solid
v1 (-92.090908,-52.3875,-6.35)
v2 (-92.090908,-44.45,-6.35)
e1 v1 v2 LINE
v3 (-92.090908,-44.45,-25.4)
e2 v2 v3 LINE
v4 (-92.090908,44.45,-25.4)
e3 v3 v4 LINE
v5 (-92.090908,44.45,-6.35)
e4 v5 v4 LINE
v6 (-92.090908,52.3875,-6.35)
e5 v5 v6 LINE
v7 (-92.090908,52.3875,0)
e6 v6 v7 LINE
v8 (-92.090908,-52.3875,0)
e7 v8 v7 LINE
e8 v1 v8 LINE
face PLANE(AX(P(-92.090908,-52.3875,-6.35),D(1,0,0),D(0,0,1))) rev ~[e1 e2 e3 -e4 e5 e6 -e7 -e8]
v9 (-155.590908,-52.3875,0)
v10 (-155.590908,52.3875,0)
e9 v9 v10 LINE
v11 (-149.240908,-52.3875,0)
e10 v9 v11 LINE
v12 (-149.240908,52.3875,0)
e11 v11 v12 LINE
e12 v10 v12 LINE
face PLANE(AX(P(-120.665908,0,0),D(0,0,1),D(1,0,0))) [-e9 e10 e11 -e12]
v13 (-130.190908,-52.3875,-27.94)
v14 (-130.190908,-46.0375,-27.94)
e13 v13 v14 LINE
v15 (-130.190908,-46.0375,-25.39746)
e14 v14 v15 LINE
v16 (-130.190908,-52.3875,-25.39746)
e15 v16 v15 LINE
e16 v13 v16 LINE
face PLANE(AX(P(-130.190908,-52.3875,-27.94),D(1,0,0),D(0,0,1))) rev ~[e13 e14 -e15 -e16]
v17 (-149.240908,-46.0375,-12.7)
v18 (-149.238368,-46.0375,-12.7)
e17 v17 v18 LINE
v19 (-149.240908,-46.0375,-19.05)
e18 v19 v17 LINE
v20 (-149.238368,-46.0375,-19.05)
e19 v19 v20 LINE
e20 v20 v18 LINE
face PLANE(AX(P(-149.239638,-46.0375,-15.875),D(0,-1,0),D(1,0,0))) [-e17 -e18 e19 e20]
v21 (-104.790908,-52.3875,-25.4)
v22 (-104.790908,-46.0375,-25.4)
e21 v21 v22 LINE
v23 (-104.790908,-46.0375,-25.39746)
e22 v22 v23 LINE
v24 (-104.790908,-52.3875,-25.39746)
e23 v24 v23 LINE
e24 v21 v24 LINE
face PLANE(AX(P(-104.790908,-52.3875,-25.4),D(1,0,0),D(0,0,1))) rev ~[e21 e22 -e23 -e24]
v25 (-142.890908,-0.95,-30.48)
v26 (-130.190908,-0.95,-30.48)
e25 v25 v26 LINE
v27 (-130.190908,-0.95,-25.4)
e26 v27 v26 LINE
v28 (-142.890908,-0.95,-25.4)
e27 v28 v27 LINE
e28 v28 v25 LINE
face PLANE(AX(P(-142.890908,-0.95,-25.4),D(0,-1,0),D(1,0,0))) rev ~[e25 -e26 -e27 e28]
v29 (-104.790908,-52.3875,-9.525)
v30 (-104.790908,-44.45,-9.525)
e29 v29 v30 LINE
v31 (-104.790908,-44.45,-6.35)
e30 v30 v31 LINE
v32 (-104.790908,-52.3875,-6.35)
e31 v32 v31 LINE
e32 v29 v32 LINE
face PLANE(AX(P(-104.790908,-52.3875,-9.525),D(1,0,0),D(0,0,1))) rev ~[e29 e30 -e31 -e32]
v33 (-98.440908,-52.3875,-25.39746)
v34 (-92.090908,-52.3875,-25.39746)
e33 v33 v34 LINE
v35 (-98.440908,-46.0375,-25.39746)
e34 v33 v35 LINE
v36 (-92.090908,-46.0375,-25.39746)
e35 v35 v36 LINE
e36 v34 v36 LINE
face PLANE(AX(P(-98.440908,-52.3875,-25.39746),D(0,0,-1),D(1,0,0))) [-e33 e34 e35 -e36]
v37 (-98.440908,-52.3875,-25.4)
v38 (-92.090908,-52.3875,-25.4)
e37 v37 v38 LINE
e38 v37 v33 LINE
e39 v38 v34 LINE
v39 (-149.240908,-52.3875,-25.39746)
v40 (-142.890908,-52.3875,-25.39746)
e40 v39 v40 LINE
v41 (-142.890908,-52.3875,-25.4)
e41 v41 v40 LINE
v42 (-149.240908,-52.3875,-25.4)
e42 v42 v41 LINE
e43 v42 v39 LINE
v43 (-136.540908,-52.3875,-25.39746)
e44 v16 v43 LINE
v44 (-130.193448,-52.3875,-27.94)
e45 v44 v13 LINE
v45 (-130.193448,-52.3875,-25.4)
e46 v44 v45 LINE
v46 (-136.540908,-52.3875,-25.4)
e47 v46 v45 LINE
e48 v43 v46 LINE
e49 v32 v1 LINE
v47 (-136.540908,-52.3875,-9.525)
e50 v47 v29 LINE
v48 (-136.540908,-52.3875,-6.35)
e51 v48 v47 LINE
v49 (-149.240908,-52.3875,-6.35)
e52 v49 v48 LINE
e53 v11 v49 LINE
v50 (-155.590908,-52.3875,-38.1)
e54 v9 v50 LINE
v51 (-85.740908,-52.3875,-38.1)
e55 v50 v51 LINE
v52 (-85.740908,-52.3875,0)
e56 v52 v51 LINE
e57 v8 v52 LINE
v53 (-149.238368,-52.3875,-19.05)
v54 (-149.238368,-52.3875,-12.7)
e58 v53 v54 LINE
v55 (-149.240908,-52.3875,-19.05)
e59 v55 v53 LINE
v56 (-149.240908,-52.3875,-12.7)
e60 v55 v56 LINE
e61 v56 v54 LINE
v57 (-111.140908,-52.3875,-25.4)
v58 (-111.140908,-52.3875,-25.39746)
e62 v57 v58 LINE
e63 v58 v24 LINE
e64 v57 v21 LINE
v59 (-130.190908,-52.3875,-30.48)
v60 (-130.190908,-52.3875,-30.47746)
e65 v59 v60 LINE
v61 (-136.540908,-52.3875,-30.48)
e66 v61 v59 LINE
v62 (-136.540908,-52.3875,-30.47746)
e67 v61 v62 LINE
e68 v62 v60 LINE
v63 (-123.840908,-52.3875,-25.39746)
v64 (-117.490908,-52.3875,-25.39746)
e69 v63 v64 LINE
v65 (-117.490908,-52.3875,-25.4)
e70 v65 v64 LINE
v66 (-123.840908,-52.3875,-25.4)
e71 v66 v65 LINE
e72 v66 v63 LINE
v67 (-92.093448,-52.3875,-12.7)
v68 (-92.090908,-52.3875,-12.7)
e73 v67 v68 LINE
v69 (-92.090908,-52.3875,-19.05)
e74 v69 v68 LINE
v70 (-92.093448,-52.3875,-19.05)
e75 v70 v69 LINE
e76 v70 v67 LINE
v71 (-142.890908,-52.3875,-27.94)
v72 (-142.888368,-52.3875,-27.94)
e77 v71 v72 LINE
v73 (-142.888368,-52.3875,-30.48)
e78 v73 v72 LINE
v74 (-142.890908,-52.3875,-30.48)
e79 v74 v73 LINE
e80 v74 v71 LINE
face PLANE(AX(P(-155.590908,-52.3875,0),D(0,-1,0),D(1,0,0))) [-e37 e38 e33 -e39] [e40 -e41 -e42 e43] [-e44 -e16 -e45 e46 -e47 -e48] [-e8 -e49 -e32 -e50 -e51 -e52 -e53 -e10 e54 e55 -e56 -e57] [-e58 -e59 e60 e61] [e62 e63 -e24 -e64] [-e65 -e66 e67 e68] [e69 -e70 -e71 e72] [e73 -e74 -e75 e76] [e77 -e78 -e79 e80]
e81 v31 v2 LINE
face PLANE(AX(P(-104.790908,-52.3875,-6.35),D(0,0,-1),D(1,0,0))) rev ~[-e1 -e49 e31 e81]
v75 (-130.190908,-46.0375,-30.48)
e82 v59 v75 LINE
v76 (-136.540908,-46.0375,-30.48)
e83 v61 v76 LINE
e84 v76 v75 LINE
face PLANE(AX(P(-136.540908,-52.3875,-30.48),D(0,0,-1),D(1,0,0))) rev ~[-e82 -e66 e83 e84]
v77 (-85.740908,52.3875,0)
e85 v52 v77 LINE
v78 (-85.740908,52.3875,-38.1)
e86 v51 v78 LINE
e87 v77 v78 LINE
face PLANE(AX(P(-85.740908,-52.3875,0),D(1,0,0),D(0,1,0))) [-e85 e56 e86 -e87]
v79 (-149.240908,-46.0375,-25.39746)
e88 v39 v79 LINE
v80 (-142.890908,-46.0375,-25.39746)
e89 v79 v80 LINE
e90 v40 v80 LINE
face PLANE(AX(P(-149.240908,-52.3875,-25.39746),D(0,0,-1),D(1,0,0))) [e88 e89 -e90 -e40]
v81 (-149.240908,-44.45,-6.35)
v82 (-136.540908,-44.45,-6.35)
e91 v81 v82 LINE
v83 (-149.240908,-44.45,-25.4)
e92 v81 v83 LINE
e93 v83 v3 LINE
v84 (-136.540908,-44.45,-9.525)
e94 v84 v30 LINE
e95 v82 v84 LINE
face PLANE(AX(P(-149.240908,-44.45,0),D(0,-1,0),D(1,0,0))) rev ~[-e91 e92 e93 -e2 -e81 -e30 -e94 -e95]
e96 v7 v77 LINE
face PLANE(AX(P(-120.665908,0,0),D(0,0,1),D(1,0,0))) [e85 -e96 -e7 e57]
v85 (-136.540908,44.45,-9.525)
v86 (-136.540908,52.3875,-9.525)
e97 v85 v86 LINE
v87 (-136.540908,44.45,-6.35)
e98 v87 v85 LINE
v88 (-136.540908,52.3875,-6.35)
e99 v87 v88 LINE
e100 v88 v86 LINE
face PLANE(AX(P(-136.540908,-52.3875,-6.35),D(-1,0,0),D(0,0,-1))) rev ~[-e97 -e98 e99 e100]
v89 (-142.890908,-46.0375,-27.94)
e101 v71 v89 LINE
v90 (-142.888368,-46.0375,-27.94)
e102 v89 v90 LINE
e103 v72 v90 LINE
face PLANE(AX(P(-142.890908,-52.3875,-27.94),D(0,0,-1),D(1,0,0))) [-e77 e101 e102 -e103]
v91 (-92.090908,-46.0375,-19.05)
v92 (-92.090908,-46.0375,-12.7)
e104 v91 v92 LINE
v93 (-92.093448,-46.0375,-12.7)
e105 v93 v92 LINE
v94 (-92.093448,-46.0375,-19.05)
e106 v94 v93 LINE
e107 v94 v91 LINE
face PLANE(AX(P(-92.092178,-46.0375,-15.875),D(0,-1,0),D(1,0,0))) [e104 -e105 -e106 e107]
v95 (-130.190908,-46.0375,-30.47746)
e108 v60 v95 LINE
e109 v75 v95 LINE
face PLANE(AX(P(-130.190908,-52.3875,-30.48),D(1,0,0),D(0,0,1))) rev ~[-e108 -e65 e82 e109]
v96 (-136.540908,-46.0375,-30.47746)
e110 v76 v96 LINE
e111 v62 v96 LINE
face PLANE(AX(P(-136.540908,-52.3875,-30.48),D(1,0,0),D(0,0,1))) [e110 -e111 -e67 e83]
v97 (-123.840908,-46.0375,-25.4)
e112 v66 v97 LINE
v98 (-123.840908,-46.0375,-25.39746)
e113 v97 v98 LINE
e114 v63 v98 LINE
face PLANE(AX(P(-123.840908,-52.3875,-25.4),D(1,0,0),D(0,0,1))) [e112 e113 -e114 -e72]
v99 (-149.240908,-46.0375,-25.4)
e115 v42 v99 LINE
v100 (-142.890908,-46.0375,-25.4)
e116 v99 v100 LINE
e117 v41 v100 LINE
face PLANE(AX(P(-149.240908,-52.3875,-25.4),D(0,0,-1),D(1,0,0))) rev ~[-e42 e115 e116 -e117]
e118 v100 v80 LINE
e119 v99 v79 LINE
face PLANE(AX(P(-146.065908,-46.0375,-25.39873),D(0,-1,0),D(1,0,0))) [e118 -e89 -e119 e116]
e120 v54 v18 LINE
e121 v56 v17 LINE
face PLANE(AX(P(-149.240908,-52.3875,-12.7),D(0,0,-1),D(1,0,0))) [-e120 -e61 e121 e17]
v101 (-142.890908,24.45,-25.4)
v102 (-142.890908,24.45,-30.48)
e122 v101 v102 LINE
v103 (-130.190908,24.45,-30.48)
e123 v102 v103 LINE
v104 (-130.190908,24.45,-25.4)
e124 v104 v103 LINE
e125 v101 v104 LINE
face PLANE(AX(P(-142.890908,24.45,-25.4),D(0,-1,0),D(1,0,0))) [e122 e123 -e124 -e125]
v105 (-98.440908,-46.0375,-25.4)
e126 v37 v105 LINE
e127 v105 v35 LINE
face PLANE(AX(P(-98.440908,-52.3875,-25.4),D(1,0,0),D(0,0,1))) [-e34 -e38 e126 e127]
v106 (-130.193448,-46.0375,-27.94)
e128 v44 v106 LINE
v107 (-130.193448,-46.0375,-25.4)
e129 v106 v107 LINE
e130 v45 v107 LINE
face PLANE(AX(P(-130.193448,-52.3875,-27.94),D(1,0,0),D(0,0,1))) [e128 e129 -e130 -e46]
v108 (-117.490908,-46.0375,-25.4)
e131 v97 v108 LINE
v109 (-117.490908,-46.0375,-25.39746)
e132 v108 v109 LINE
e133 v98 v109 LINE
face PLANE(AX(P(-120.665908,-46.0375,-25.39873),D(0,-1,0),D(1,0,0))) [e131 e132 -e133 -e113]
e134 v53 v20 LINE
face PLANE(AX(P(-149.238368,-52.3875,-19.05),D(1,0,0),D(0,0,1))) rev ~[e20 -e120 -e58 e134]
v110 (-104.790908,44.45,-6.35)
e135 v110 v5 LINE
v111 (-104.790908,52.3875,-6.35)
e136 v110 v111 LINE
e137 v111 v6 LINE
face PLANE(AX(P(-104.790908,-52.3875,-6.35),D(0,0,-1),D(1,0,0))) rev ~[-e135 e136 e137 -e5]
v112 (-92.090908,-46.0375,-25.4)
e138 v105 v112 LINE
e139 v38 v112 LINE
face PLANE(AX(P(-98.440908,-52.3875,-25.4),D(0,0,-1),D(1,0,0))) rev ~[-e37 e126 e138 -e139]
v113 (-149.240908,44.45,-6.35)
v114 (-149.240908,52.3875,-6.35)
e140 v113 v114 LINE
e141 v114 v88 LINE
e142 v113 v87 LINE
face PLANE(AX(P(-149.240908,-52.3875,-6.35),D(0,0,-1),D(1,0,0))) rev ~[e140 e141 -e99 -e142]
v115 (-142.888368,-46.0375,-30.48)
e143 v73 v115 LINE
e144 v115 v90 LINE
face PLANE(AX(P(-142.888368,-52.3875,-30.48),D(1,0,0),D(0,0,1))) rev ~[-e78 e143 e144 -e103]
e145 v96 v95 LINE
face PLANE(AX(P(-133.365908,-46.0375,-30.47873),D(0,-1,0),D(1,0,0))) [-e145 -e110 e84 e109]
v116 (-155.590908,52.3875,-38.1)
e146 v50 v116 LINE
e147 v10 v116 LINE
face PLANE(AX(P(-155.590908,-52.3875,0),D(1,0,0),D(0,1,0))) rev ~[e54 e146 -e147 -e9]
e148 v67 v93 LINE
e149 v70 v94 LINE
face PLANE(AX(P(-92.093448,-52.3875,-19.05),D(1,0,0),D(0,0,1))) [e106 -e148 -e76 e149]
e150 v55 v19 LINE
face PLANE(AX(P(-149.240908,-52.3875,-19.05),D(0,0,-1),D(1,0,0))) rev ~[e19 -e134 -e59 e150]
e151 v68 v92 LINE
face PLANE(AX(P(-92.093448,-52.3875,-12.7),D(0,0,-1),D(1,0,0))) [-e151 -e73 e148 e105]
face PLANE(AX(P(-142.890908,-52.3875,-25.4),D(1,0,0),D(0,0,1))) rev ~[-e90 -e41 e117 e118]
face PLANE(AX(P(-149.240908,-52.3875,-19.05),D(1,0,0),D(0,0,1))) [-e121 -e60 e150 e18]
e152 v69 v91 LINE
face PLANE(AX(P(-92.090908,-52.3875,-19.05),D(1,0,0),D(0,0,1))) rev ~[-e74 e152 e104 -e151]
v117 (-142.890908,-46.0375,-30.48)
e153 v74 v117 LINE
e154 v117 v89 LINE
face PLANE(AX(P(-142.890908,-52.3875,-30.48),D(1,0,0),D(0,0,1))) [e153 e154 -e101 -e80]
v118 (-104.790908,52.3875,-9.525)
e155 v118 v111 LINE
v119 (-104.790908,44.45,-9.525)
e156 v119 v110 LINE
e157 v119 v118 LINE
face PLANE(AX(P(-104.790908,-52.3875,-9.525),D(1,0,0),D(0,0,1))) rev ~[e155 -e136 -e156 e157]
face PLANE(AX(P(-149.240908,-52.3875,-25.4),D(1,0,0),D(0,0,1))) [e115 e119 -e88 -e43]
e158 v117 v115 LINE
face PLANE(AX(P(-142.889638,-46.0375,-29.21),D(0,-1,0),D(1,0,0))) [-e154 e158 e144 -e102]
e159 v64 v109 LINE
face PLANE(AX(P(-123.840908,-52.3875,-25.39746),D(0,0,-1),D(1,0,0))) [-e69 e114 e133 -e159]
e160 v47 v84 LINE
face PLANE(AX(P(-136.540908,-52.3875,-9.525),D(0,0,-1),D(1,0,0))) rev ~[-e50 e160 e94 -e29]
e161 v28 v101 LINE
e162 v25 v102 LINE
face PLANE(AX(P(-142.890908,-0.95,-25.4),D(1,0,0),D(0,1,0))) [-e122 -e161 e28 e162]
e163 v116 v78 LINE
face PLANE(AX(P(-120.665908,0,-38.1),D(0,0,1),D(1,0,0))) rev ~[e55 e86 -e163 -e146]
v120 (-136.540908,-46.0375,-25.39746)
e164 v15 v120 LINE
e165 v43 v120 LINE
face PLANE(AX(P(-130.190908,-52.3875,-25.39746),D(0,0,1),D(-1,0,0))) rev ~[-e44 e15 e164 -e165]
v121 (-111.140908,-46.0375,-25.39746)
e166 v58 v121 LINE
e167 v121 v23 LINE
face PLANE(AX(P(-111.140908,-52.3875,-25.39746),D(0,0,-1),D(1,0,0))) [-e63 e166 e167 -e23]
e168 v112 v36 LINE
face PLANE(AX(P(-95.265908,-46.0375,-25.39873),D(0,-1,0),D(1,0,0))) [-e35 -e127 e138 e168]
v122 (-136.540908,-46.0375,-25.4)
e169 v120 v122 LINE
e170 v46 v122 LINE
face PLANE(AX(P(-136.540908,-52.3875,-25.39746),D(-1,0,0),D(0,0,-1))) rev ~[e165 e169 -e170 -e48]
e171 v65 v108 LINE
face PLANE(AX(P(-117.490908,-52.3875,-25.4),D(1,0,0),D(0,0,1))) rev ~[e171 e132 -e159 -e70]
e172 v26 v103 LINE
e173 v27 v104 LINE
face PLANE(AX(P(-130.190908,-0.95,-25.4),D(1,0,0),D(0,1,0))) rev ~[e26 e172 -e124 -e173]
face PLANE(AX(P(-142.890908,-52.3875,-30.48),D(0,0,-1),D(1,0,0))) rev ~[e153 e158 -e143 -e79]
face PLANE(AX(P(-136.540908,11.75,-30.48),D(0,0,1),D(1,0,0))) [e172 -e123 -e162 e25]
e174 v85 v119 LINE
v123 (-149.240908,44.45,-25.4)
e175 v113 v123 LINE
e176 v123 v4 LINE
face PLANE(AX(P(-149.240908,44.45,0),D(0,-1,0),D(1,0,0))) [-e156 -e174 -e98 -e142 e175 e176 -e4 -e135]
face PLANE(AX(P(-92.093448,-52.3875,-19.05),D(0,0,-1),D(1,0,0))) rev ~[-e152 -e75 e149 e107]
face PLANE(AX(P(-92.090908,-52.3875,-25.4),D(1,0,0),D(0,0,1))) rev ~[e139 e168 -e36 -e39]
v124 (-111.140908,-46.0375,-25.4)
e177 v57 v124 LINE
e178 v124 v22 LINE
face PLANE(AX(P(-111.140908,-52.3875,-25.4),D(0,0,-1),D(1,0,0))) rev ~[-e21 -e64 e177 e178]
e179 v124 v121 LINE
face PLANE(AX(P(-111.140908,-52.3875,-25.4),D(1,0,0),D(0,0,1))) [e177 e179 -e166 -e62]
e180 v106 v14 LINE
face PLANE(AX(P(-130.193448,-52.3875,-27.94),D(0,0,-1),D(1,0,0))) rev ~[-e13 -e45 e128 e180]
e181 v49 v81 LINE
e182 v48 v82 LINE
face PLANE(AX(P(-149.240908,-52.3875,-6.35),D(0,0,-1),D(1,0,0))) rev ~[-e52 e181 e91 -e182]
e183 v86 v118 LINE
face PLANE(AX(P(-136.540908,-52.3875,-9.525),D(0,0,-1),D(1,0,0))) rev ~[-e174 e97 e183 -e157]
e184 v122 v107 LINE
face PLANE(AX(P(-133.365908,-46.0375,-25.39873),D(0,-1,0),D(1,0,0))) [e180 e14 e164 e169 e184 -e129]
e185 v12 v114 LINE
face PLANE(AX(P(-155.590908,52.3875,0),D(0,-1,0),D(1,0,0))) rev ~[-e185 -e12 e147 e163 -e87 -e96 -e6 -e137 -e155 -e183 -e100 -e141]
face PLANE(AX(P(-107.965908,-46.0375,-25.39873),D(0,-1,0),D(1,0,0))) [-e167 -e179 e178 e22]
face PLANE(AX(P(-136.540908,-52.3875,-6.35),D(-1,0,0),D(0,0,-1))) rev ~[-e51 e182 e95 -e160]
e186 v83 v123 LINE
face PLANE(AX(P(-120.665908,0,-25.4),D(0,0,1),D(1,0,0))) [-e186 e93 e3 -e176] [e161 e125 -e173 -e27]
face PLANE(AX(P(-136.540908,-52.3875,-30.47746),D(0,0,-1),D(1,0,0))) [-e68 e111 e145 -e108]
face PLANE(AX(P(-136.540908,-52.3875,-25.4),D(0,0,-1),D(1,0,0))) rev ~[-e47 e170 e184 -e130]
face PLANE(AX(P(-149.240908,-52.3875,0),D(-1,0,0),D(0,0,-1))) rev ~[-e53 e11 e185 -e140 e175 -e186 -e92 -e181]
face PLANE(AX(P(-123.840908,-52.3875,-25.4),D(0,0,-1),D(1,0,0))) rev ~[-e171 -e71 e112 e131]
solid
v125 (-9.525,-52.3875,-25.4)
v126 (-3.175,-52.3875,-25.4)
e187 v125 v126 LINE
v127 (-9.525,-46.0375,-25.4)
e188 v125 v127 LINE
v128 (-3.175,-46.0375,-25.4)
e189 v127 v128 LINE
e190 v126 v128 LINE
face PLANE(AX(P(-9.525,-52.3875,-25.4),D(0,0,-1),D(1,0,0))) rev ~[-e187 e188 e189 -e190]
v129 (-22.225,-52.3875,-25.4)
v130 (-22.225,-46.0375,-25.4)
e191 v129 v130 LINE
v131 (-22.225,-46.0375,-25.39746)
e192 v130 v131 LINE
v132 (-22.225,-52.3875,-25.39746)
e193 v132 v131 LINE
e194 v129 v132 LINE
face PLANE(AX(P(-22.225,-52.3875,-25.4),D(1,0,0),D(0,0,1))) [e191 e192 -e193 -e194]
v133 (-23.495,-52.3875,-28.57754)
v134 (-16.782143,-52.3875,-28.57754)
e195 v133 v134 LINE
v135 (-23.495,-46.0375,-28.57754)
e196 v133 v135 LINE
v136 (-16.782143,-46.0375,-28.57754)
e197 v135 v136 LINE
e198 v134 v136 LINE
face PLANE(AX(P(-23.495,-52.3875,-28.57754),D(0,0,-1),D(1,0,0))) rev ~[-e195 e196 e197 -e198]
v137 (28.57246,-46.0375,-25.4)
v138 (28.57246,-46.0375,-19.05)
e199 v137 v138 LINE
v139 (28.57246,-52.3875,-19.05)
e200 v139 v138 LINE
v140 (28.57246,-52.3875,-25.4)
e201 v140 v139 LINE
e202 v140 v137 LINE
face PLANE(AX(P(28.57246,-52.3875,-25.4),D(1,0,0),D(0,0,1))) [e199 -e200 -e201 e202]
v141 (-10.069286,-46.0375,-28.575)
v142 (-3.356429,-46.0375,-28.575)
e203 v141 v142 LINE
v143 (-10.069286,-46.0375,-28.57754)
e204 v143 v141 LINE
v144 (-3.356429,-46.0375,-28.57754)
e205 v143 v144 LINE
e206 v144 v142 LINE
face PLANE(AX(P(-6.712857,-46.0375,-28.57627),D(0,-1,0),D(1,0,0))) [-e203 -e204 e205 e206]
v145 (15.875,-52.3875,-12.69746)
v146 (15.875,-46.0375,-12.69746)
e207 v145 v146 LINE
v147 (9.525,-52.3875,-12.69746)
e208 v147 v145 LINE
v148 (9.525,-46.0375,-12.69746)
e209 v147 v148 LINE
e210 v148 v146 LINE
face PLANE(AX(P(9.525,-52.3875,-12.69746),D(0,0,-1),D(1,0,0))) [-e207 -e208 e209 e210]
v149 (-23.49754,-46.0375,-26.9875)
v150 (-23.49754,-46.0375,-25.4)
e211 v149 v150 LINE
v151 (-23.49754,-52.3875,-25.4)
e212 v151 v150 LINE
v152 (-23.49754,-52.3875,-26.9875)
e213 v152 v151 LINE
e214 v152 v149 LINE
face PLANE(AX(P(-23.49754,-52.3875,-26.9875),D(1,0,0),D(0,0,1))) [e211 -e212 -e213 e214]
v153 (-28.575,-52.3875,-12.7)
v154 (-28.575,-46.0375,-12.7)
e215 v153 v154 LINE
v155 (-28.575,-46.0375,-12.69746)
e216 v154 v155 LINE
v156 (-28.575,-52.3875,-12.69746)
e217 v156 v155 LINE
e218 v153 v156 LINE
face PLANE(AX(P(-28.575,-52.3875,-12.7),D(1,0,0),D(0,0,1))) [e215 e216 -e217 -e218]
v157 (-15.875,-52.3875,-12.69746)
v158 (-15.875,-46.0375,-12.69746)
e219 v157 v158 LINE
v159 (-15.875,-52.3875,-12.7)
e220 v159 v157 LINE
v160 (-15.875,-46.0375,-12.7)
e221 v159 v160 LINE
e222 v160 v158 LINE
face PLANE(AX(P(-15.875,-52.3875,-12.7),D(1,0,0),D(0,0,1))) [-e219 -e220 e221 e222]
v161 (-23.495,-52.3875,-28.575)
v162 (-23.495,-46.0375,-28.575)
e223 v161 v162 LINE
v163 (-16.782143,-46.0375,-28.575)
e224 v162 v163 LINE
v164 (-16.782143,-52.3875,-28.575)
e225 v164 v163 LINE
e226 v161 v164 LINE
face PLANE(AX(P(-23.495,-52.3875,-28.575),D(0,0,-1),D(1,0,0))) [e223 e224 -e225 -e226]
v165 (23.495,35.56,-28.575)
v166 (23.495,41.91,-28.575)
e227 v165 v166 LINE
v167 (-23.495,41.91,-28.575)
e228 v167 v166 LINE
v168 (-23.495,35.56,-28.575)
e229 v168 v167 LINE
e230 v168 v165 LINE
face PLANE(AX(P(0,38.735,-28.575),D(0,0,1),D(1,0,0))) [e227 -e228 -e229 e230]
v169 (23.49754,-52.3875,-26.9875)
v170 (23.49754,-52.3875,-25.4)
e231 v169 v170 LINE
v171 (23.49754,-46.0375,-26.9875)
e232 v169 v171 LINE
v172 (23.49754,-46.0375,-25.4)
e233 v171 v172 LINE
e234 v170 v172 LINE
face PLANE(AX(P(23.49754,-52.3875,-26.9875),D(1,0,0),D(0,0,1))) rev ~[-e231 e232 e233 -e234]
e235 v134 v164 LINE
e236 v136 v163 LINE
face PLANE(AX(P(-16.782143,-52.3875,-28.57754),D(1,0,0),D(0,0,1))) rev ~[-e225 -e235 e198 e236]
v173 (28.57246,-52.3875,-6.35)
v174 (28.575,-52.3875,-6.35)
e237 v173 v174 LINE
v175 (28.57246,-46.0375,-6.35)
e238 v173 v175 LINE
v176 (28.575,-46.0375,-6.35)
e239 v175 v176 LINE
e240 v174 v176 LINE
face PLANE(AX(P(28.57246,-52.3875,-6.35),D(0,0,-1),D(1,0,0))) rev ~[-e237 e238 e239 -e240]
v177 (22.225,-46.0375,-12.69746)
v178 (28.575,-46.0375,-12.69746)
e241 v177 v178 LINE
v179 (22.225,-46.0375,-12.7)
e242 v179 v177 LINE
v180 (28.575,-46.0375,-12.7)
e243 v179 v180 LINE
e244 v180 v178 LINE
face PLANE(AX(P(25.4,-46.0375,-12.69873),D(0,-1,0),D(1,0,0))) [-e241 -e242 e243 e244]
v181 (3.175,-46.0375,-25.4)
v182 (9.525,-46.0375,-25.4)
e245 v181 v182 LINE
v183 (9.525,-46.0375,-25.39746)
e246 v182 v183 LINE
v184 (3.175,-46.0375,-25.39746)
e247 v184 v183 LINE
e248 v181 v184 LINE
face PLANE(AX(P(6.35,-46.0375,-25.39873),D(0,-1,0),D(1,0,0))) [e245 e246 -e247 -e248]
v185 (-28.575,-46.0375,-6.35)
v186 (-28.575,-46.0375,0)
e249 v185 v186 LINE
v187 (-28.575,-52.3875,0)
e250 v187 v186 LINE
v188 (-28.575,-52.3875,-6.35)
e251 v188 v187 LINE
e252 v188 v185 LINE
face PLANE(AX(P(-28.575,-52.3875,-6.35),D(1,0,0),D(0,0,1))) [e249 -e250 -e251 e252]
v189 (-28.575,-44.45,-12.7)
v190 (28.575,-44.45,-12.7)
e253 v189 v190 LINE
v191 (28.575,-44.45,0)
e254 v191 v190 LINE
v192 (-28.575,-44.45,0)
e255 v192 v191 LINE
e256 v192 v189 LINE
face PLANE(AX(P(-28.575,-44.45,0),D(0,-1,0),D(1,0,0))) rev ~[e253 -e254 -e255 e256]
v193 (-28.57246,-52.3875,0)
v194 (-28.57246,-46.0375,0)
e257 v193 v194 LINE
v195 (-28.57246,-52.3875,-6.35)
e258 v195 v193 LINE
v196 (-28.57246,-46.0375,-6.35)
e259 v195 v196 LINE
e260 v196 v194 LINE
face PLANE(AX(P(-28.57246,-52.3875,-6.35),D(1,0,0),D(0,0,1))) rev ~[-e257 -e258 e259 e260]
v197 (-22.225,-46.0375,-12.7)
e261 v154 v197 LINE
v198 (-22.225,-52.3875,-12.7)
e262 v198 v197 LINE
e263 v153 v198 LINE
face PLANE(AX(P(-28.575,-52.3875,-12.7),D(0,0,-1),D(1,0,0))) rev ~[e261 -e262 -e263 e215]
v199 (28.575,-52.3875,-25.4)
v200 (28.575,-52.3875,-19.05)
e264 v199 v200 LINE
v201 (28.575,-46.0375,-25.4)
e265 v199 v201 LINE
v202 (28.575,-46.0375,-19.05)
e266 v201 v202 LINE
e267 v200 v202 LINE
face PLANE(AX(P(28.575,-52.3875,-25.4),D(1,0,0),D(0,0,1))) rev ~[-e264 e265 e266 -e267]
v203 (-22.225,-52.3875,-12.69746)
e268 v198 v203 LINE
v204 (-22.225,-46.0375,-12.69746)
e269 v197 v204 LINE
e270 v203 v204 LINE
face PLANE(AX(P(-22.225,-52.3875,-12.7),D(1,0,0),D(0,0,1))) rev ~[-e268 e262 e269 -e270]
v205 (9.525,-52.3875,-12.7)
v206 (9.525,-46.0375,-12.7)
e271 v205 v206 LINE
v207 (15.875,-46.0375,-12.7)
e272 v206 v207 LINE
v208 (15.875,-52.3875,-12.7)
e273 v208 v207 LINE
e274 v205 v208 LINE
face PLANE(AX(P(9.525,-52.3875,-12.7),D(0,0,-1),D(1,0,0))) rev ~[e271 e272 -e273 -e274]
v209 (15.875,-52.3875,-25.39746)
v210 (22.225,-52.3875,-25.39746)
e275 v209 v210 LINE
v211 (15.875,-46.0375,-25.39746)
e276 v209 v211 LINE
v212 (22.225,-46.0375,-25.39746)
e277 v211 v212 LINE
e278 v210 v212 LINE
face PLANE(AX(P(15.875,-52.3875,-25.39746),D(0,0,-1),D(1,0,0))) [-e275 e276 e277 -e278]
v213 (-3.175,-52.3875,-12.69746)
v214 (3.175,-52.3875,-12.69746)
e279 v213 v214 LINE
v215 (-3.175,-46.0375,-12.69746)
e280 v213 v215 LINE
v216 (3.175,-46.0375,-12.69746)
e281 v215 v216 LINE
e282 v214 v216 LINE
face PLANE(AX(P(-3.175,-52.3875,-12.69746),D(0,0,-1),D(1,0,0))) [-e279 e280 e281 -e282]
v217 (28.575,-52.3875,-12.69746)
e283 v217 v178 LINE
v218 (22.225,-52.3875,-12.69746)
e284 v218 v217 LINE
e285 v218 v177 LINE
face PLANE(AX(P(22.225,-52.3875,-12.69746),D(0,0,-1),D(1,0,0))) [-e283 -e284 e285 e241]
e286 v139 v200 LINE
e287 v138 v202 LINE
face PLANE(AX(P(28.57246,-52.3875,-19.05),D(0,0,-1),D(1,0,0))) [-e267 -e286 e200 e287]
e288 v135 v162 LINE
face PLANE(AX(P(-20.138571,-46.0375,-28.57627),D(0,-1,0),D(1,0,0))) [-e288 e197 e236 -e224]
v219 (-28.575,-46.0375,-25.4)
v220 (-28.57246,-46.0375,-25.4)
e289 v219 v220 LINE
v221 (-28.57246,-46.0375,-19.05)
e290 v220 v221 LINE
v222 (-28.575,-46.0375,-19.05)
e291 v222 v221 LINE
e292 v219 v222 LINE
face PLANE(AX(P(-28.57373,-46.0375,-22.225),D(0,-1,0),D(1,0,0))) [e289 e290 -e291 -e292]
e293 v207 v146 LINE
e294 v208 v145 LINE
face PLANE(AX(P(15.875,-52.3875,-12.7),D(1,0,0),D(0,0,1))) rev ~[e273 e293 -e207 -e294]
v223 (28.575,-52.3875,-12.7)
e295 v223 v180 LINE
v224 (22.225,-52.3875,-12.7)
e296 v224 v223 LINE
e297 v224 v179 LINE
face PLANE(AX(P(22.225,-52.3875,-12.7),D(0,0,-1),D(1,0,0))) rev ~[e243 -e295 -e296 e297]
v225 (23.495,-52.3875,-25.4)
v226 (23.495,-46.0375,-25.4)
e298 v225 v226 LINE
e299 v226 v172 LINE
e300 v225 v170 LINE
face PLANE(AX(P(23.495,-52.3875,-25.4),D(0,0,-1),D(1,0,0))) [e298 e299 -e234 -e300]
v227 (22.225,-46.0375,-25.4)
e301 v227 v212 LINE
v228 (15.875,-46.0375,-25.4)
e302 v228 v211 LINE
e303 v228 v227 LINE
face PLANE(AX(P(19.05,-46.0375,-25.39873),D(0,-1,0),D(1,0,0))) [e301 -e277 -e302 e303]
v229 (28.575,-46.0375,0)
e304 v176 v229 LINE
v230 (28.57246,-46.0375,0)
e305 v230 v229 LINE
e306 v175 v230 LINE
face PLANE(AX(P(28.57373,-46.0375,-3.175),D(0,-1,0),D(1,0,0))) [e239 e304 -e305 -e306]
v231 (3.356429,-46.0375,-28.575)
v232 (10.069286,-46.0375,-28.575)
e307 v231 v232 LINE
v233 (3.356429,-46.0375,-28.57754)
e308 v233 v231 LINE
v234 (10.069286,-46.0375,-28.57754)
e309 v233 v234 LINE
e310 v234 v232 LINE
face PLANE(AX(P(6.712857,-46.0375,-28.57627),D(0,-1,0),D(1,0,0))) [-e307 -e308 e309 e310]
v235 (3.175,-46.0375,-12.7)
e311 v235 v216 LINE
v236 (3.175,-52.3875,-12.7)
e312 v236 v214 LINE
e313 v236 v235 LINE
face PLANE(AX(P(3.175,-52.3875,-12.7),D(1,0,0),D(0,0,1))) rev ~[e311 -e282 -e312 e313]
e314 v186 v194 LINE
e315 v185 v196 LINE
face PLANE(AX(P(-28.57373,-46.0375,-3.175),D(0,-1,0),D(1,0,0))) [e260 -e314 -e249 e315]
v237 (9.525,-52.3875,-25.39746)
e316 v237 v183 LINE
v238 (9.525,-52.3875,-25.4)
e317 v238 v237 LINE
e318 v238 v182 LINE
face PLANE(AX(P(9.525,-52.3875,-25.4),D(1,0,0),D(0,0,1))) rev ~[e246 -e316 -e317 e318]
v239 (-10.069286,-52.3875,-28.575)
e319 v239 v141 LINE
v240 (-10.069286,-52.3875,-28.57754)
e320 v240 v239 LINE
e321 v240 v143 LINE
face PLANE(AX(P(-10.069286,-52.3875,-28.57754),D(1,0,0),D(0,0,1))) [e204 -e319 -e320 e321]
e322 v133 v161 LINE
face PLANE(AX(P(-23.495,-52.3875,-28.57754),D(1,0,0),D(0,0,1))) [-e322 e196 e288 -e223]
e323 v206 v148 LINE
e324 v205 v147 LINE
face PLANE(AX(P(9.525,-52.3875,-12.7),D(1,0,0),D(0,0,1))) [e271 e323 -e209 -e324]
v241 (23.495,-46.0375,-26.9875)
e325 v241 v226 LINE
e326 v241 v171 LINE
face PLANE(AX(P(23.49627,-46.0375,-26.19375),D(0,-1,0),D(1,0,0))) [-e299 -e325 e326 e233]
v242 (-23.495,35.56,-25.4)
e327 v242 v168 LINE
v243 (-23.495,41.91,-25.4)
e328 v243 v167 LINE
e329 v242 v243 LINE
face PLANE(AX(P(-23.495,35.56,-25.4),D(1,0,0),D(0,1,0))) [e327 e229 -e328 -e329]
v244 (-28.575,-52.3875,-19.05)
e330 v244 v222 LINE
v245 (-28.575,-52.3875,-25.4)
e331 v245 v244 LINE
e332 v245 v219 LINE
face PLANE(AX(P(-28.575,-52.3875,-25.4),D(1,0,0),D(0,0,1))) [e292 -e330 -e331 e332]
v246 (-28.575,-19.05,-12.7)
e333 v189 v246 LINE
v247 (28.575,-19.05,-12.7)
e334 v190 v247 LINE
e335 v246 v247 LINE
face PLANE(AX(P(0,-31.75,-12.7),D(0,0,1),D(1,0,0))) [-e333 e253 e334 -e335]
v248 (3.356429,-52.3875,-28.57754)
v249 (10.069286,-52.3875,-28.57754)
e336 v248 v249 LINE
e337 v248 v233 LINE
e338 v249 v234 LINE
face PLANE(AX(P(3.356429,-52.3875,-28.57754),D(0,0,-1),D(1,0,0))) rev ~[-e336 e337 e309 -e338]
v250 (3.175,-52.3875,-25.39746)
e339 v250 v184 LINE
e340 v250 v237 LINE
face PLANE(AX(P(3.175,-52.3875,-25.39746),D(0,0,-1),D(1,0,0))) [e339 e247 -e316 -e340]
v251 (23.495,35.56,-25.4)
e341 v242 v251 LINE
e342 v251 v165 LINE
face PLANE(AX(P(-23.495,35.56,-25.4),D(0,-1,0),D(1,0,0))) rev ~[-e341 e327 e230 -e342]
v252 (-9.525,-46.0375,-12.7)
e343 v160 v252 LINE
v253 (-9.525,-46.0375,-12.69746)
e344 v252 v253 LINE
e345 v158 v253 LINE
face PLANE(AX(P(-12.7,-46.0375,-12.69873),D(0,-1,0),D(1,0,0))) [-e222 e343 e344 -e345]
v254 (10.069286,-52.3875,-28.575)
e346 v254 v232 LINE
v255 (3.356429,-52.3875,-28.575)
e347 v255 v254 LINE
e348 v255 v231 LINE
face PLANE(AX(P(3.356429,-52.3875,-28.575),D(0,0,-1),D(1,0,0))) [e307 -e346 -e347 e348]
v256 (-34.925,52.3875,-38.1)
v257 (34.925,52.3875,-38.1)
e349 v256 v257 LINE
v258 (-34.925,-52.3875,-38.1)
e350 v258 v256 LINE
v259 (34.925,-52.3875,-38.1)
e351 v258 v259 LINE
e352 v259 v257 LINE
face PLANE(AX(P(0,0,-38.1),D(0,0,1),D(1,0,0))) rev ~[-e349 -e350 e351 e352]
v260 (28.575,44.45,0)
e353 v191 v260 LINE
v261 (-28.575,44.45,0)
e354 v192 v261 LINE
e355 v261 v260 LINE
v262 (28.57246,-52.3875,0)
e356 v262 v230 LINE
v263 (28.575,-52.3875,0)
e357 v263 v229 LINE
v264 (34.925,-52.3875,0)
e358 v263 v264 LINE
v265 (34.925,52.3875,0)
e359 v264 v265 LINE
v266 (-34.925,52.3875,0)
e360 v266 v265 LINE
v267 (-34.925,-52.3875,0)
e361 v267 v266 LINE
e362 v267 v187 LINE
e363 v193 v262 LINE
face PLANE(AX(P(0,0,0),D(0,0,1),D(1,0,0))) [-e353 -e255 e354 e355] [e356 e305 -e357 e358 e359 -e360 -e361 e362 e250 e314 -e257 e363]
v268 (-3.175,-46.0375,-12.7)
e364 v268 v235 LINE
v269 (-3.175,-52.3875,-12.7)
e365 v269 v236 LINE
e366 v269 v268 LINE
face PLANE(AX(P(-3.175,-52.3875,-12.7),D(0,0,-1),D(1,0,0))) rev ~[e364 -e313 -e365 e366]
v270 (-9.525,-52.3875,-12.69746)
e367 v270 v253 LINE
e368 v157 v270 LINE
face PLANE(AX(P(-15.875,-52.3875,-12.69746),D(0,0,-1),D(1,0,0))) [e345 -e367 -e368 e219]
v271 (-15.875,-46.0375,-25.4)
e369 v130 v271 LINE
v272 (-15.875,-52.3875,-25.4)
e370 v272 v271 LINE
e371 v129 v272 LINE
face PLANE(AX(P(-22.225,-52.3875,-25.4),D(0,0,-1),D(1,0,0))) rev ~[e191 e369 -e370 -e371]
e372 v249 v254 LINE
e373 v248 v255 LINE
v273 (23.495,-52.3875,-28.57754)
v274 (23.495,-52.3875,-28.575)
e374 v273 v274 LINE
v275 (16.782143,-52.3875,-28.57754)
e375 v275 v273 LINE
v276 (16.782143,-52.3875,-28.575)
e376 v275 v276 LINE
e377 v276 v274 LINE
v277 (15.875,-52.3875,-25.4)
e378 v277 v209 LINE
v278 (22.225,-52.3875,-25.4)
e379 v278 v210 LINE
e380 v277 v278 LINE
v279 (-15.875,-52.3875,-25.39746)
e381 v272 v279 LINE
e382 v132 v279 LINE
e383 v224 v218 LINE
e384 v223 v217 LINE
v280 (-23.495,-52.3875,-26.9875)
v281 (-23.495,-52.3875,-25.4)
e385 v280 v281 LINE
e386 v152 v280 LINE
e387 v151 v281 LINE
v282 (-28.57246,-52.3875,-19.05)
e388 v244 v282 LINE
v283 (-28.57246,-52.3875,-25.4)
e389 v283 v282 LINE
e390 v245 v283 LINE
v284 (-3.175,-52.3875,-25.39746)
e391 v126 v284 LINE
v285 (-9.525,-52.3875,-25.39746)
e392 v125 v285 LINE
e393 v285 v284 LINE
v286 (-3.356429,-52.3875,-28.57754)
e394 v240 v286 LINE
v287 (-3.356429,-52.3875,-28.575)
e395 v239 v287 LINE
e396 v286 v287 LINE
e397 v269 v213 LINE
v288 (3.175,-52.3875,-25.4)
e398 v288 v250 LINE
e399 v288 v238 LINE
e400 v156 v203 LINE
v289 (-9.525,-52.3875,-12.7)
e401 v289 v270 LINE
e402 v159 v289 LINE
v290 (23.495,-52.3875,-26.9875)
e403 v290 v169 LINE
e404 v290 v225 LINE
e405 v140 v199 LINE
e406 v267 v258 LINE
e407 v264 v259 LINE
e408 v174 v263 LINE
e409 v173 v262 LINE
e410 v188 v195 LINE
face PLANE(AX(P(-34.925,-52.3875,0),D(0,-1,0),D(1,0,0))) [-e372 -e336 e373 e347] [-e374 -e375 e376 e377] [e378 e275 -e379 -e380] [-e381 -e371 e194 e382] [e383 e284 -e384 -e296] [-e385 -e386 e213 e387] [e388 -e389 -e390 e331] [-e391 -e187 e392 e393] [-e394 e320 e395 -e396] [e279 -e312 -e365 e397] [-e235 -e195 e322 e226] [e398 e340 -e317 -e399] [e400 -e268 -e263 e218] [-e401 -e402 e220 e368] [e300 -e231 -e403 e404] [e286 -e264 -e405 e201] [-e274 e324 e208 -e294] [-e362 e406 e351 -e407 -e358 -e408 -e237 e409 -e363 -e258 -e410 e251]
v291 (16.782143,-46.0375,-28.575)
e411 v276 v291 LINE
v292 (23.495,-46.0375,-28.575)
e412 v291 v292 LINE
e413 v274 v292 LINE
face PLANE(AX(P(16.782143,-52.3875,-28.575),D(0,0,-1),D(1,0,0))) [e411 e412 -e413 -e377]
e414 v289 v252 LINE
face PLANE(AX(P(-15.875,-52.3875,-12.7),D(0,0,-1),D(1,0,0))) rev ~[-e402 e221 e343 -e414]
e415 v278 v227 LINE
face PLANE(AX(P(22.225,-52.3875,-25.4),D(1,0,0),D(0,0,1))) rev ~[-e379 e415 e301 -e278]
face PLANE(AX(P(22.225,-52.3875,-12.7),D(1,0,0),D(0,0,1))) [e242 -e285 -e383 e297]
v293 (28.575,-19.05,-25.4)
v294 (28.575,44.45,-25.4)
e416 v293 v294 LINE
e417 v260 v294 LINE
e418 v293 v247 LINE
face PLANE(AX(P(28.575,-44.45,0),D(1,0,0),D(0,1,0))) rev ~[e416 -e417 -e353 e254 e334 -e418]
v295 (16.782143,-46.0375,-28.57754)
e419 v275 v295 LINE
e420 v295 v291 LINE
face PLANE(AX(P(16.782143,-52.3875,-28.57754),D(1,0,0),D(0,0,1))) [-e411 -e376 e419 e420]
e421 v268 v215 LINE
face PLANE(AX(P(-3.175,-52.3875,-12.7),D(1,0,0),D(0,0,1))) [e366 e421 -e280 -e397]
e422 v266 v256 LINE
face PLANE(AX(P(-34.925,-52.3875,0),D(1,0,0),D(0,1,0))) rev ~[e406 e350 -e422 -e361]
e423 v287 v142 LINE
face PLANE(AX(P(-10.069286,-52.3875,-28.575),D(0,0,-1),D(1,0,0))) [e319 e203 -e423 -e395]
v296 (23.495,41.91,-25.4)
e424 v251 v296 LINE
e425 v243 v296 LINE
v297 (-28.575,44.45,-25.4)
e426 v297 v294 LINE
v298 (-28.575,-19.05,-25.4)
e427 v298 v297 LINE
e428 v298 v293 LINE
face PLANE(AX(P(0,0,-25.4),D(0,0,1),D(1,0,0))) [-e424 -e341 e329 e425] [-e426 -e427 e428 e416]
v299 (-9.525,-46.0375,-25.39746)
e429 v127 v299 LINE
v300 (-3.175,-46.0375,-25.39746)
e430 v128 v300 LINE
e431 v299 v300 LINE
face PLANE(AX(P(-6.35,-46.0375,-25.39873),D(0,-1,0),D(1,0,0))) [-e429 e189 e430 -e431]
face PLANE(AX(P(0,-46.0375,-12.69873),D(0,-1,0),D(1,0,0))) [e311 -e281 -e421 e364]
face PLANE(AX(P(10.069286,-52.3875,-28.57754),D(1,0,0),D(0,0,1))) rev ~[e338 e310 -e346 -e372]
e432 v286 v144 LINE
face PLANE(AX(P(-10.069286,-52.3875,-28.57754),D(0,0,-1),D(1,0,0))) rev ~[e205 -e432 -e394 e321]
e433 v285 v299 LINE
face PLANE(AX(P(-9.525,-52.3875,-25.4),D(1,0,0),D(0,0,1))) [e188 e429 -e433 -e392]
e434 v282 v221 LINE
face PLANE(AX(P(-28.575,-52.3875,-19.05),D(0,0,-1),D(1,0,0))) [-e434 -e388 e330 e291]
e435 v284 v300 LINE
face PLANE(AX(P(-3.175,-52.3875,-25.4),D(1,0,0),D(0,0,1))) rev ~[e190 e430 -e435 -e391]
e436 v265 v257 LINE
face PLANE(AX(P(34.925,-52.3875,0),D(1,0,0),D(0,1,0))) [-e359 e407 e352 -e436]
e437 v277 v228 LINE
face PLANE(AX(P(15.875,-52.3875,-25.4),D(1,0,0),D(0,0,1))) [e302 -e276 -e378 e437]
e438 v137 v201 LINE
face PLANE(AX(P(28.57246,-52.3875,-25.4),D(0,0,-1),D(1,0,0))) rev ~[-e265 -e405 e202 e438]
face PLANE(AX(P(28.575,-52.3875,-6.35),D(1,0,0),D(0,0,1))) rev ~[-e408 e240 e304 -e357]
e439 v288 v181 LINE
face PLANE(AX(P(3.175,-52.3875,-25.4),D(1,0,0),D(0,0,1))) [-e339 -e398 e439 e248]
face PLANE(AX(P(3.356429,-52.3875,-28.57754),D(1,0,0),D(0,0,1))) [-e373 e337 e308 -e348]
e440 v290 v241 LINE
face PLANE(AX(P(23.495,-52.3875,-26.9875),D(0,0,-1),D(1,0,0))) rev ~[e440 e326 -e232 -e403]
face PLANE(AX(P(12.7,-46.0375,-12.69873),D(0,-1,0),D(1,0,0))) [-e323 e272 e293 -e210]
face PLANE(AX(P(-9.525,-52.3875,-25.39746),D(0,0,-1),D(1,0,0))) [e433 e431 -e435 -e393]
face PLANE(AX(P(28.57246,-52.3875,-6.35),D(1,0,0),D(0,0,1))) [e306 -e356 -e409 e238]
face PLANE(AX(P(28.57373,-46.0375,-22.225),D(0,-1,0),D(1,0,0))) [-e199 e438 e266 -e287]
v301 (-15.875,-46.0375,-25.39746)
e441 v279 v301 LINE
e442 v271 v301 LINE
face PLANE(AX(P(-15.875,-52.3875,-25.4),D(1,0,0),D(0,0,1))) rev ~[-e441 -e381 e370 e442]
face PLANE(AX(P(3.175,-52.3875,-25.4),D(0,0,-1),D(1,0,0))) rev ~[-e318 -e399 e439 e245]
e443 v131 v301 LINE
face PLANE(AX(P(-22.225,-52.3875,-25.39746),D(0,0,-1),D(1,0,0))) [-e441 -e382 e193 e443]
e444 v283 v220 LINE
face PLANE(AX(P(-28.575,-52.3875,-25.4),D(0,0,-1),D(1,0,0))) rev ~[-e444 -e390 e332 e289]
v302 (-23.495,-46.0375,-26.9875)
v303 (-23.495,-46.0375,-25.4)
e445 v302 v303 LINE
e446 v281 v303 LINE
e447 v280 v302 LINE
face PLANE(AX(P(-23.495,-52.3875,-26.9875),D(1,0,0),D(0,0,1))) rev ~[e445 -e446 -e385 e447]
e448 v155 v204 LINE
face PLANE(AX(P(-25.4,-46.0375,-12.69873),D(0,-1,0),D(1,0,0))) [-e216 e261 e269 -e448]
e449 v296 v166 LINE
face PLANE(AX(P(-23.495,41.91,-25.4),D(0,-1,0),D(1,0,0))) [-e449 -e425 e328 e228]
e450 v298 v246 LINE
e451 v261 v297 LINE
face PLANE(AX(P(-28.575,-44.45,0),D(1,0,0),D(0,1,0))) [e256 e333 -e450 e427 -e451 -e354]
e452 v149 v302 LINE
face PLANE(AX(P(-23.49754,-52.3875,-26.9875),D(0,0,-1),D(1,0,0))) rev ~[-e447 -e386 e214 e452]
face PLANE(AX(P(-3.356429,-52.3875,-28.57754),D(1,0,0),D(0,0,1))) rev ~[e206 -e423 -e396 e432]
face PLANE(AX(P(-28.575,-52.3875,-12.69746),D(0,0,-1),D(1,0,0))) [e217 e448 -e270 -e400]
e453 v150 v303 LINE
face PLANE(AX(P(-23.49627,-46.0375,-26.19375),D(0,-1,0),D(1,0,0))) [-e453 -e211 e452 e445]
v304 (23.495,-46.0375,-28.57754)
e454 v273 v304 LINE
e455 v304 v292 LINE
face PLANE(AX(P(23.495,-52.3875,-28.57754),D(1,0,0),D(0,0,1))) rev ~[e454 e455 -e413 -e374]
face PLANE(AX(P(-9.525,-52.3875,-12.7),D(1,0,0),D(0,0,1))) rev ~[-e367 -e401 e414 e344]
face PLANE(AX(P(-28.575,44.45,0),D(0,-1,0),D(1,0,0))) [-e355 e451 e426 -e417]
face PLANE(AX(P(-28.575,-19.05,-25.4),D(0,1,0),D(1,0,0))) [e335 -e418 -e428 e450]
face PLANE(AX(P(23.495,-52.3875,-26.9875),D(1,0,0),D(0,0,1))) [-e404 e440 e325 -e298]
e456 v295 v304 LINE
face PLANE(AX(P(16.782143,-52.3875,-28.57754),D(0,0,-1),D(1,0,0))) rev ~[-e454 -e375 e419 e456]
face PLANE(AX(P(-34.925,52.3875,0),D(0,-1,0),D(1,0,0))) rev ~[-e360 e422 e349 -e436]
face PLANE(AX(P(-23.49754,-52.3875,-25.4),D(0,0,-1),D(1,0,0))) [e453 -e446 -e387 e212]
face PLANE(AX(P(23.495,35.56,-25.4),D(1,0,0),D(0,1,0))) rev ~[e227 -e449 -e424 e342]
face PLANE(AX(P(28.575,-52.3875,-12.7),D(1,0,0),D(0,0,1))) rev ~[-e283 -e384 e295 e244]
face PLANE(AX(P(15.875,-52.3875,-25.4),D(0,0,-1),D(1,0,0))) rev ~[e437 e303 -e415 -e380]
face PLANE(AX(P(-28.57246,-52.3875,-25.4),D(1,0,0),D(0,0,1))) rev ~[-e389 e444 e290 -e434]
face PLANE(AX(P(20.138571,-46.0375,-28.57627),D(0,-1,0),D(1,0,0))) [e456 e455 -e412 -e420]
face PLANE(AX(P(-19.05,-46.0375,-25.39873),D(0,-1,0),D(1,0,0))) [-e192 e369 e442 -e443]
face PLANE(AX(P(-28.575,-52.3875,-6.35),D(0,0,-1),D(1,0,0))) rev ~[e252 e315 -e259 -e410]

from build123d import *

# Parameters (mm, degrees)
F0_W      = 69.85
F0_H      = 104.775
F1_DEPTH  = 38.1
F2_W      = 57.15
F2_H      = 88.9
F3_DEPTH  = 25.4
F4_W      = 57.15
F4_H      = 25.4
F5_DEPTH  = 12.7
F6_DEPTH  = 25.4
F8_DEPTH  = 104.776
F9_W      = 12.7
F9_H      = 25.4
F10_DEPTH = 5.08
F11_W     = 46.99
F11_H     = 6.35
F12_DEPTH = 3.175
F13_W     = 6.35
F13_H     = 0.00254
F13_W_2   = 0.00254
F13_H_2   = 6.35
F13_H_3   = 1.5875
F13_W_3   = 6.7128571429
F14_DEPTH = 6.35
F15_W     = 6.35
F15_H     = 0.00254
F15_W_2   = 0.00254
F15_H_2   = 2.54
F15_H_3   = 6.35
F16_DEPTH = 6.35
F17_DEPTH = 6.35


with BuildPart() as f1:
    # F0 (on Top) → F1 (new body)
    with BuildSketch(Plane.XY):
        Rectangle(F0_W, F0_H)
    extrude(amount=-F1_DEPTH)

    # F2 (on Top) → F3 (cut)
    with BuildSketch(Plane.XY):
        Rectangle(F2_W, F2_H)
    extrude(amount=-F3_DEPTH, mode=Mode.SUBTRACT)

    # F4 (on face) → F5 (join)
    with BuildSketch(Plane.XY.offset(-25.4)):
        with Locations((0, -31.75)):
            Rectangle(F4_W, F4_H)
    extrude(amount=F5_DEPTH)

    # F11 (on face) → F12 (cut)
    with BuildSketch(Plane.XY.offset(-25.4)):
        with Locations((0, 38.735)):
            Rectangle(F11_W, F11_H)
    extrude(amount=-F12_DEPTH, mode=Mode.SUBTRACT)

    # F13 (on face) → F14 (cut)
    with BuildSketch(Plane.XZ.offset(52.3875)):
        with Locations((-25.4, -12.69873)):
            Rectangle(F13_W, F13_H)
        with Locations((-12.7, -12.69873)):
            Rectangle(F13_W, F13_H)
        with Locations((0, -12.69873)):
            Rectangle(F13_W, F13_H)
        with Locations((12.7, -12.69873)):
            Rectangle(F13_W, F13_H)
        with Locations((25.4, -12.69873)):
            Rectangle(F13_W, F13_H)
        with Locations((-28.57373, -3.175)):
            Rectangle(F13_W_2, F13_H_2)
        with Locations((-28.57373, -22.225)):
            Rectangle(F13_W_2, F13_H_2)
        with Locations((28.57373, -3.175)):
            Rectangle(F13_W_2, F13_H_2)
        with Locations((28.57373, -22.225)):
            Rectangle(F13_W_2, F13_H_2)
        with Locations((-19.05, -25.39873)):
            Rectangle(F13_W, F13_H)
        with Locations((-6.35, -25.39873)):
            Rectangle(F13_W, F13_H)
        with Locations((6.35, -25.39873)):
            Rectangle(F13_W, F13_H)
        with Locations((19.05, -25.39873)):
            Rectangle(F13_W, F13_H)
        with Locations((-23.49627, -26.19375)):
            Rectangle(F13_W_2, F13_H_3)
        with Locations((23.49627, -26.19375)):
            Rectangle(F13_W_2, F13_H_3)
        with Locations((20.1385714286, -28.57627)):
            Rectangle(F13_W_3, F13_H)
        with Locations((6.7128571429, -28.57627)):
            Rectangle(F13_W_3, F13_H)
        with Locations((-6.7128571429, -28.57627)):
            Rectangle(F13_W_3, F13_H)
        with Locations((-20.1385714286, -28.57627)):
            Rectangle(F13_W_3, F13_H)
    extrude(amount=-F14_DEPTH, mode=Mode.SUBTRACT)

    # F13 (on face) → F17 (cut)
    with BuildSketch(Plane.XZ.offset(52.3875)):
        with Locations((-25.4, -12.69873)):
            Rectangle(F13_W, F13_H)
        with Locations((-12.7, -12.69873)):
            Rectangle(F13_W, F13_H)
        with Locations((0, -12.69873)):
            Rectangle(F13_W, F13_H)
        with Locations((12.7, -12.69873)):
            Rectangle(F13_W, F13_H)
        with Locations((25.4, -12.69873)):
            Rectangle(F13_W, F13_H)
        with Locations((-28.57373, -3.175)):
            Rectangle(F13_W_2, F13_H_2)
        with Locations((-28.57373, -22.225)):
            Rectangle(F13_W_2, F13_H_2)
        with Locations((28.57373, -3.175)):
            Rectangle(F13_W_2, F13_H_2)
        with Locations((28.57373, -22.225)):
            Rectangle(F13_W_2, F13_H_2)
        with Locations((-19.05, -25.39873)):
            Rectangle(F13_W, F13_H)
        with Locations((-6.35, -25.39873)):
            Rectangle(F13_W, F13_H)
        with Locations((6.35, -25.39873)):
            Rectangle(F13_W, F13_H)
        with Locations((19.05, -25.39873)):
            Rectangle(F13_W, F13_H)
        with Locations((-23.49627, -26.19375)):
            Rectangle(F13_W_2, F13_H_3)
        with Locations((23.49627, -26.19375)):
            Rectangle(F13_W_2, F13_H_3)
        with Locations((20.1385714286, -28.57627)):
            Rectangle(F13_W_3, F13_H)
        with Locations((6.7128571429, -28.57627)):
            Rectangle(F13_W_3, F13_H)
        with Locations((-6.7128571429, -28.57627)):
            Rectangle(F13_W_3, F13_H)
        with Locations((-20.1385714286, -28.57627)):
            Rectangle(F13_W_3, F13_H)
    extrude(amount=-F17_DEPTH, mode=Mode.SUBTRACT)


with BuildPart() as f1b:
    # F0 (on Top) → F1, piece 2 (new body)
    with BuildSketch(Plane.XY):
        with Locations((-120.6659083736, 0)):
            Rectangle(F0_W, F0_H)
    extrude(amount=-F1_DEPTH)

    # F2 (on Top) → F6 (cut)
    with BuildSketch(Plane.XY):
        Rectangle(F2_W, F2_H)
        with Locations((-120.6659083736, 0)):
            Rectangle(F2_W, F2_H)
    extrude(amount=-F6_DEPTH, mode=Mode.SUBTRACT)

    # F7 (on face) → F8 (cut, through all)
    with BuildSketch(Plane.XZ.offset(52.3875)):
        Polygon((-92.0909083736, 0), (-149.2409083736, 0), (-149.2409083736, -6.35), (-136.5409083736, -6.35), (-136.5409083736, -9.525), (-104.7909083736, -9.525), (-104.7909083736, -6.35), (-92.0909083736, -6.35), align=None)
    extrude(amount=-F8_DEPTH, mode=Mode.SUBTRACT)

    # F9 (on face) → F10 (cut)
    with BuildSketch(Plane.XY.offset(-25.4)):
        with Locations((-136.5409083736, 11.75)):
            Rectangle(F9_W, F9_H)
    extrude(amount=-F10_DEPTH, mode=Mode.SUBTRACT)

    # F15 (on face) → F16 (cut)
    with BuildSketch(Plane.XZ.offset(52.3875)):
        with Locations((-146.0659083736, -25.39873)):
            Rectangle(F15_W, F15_H)
        Polygon((-136.5409083736, -25.39746), (-136.5409083736, -25.4), (-130.1934483736, -25.4), (-130.1909083736, -25.4), (-130.1909083736, -25.39746), align=None)
        with Locations((-130.1921783736, -26.67)):
            Rectangle(F15_W_2, F15_H_2)
        with Locations((-120.6659083736, -25.39873)):
            Rectangle(F15_W, F15_H)
        with Locations((-107.9659083736, -25.39873)):
            Rectangle(F15_W, F15_H)
        with Locations((-95.2659083736, -25.39873)):
            Rectangle(F15_W, F15_H)
        with Locations((-142.8896383736, -29.21)):
            Rectangle(F15_W_2, F15_H_2)
        with Locations((-133.3659083736, -30.47873)):
            Rectangle(F15_W, F15_H)
        with Locations((-149.2396383736, -15.875)):
            Rectangle(F15_W_2, F15_H_3)
        with Locations((-92.0921783736, -15.875)):
            Rectangle(F15_W_2, F15_H_3)
    extrude(amount=-F16_DEPTH, mode=Mode.SUBTRACT)


solid = Compound([f1.part, f1b.part])
